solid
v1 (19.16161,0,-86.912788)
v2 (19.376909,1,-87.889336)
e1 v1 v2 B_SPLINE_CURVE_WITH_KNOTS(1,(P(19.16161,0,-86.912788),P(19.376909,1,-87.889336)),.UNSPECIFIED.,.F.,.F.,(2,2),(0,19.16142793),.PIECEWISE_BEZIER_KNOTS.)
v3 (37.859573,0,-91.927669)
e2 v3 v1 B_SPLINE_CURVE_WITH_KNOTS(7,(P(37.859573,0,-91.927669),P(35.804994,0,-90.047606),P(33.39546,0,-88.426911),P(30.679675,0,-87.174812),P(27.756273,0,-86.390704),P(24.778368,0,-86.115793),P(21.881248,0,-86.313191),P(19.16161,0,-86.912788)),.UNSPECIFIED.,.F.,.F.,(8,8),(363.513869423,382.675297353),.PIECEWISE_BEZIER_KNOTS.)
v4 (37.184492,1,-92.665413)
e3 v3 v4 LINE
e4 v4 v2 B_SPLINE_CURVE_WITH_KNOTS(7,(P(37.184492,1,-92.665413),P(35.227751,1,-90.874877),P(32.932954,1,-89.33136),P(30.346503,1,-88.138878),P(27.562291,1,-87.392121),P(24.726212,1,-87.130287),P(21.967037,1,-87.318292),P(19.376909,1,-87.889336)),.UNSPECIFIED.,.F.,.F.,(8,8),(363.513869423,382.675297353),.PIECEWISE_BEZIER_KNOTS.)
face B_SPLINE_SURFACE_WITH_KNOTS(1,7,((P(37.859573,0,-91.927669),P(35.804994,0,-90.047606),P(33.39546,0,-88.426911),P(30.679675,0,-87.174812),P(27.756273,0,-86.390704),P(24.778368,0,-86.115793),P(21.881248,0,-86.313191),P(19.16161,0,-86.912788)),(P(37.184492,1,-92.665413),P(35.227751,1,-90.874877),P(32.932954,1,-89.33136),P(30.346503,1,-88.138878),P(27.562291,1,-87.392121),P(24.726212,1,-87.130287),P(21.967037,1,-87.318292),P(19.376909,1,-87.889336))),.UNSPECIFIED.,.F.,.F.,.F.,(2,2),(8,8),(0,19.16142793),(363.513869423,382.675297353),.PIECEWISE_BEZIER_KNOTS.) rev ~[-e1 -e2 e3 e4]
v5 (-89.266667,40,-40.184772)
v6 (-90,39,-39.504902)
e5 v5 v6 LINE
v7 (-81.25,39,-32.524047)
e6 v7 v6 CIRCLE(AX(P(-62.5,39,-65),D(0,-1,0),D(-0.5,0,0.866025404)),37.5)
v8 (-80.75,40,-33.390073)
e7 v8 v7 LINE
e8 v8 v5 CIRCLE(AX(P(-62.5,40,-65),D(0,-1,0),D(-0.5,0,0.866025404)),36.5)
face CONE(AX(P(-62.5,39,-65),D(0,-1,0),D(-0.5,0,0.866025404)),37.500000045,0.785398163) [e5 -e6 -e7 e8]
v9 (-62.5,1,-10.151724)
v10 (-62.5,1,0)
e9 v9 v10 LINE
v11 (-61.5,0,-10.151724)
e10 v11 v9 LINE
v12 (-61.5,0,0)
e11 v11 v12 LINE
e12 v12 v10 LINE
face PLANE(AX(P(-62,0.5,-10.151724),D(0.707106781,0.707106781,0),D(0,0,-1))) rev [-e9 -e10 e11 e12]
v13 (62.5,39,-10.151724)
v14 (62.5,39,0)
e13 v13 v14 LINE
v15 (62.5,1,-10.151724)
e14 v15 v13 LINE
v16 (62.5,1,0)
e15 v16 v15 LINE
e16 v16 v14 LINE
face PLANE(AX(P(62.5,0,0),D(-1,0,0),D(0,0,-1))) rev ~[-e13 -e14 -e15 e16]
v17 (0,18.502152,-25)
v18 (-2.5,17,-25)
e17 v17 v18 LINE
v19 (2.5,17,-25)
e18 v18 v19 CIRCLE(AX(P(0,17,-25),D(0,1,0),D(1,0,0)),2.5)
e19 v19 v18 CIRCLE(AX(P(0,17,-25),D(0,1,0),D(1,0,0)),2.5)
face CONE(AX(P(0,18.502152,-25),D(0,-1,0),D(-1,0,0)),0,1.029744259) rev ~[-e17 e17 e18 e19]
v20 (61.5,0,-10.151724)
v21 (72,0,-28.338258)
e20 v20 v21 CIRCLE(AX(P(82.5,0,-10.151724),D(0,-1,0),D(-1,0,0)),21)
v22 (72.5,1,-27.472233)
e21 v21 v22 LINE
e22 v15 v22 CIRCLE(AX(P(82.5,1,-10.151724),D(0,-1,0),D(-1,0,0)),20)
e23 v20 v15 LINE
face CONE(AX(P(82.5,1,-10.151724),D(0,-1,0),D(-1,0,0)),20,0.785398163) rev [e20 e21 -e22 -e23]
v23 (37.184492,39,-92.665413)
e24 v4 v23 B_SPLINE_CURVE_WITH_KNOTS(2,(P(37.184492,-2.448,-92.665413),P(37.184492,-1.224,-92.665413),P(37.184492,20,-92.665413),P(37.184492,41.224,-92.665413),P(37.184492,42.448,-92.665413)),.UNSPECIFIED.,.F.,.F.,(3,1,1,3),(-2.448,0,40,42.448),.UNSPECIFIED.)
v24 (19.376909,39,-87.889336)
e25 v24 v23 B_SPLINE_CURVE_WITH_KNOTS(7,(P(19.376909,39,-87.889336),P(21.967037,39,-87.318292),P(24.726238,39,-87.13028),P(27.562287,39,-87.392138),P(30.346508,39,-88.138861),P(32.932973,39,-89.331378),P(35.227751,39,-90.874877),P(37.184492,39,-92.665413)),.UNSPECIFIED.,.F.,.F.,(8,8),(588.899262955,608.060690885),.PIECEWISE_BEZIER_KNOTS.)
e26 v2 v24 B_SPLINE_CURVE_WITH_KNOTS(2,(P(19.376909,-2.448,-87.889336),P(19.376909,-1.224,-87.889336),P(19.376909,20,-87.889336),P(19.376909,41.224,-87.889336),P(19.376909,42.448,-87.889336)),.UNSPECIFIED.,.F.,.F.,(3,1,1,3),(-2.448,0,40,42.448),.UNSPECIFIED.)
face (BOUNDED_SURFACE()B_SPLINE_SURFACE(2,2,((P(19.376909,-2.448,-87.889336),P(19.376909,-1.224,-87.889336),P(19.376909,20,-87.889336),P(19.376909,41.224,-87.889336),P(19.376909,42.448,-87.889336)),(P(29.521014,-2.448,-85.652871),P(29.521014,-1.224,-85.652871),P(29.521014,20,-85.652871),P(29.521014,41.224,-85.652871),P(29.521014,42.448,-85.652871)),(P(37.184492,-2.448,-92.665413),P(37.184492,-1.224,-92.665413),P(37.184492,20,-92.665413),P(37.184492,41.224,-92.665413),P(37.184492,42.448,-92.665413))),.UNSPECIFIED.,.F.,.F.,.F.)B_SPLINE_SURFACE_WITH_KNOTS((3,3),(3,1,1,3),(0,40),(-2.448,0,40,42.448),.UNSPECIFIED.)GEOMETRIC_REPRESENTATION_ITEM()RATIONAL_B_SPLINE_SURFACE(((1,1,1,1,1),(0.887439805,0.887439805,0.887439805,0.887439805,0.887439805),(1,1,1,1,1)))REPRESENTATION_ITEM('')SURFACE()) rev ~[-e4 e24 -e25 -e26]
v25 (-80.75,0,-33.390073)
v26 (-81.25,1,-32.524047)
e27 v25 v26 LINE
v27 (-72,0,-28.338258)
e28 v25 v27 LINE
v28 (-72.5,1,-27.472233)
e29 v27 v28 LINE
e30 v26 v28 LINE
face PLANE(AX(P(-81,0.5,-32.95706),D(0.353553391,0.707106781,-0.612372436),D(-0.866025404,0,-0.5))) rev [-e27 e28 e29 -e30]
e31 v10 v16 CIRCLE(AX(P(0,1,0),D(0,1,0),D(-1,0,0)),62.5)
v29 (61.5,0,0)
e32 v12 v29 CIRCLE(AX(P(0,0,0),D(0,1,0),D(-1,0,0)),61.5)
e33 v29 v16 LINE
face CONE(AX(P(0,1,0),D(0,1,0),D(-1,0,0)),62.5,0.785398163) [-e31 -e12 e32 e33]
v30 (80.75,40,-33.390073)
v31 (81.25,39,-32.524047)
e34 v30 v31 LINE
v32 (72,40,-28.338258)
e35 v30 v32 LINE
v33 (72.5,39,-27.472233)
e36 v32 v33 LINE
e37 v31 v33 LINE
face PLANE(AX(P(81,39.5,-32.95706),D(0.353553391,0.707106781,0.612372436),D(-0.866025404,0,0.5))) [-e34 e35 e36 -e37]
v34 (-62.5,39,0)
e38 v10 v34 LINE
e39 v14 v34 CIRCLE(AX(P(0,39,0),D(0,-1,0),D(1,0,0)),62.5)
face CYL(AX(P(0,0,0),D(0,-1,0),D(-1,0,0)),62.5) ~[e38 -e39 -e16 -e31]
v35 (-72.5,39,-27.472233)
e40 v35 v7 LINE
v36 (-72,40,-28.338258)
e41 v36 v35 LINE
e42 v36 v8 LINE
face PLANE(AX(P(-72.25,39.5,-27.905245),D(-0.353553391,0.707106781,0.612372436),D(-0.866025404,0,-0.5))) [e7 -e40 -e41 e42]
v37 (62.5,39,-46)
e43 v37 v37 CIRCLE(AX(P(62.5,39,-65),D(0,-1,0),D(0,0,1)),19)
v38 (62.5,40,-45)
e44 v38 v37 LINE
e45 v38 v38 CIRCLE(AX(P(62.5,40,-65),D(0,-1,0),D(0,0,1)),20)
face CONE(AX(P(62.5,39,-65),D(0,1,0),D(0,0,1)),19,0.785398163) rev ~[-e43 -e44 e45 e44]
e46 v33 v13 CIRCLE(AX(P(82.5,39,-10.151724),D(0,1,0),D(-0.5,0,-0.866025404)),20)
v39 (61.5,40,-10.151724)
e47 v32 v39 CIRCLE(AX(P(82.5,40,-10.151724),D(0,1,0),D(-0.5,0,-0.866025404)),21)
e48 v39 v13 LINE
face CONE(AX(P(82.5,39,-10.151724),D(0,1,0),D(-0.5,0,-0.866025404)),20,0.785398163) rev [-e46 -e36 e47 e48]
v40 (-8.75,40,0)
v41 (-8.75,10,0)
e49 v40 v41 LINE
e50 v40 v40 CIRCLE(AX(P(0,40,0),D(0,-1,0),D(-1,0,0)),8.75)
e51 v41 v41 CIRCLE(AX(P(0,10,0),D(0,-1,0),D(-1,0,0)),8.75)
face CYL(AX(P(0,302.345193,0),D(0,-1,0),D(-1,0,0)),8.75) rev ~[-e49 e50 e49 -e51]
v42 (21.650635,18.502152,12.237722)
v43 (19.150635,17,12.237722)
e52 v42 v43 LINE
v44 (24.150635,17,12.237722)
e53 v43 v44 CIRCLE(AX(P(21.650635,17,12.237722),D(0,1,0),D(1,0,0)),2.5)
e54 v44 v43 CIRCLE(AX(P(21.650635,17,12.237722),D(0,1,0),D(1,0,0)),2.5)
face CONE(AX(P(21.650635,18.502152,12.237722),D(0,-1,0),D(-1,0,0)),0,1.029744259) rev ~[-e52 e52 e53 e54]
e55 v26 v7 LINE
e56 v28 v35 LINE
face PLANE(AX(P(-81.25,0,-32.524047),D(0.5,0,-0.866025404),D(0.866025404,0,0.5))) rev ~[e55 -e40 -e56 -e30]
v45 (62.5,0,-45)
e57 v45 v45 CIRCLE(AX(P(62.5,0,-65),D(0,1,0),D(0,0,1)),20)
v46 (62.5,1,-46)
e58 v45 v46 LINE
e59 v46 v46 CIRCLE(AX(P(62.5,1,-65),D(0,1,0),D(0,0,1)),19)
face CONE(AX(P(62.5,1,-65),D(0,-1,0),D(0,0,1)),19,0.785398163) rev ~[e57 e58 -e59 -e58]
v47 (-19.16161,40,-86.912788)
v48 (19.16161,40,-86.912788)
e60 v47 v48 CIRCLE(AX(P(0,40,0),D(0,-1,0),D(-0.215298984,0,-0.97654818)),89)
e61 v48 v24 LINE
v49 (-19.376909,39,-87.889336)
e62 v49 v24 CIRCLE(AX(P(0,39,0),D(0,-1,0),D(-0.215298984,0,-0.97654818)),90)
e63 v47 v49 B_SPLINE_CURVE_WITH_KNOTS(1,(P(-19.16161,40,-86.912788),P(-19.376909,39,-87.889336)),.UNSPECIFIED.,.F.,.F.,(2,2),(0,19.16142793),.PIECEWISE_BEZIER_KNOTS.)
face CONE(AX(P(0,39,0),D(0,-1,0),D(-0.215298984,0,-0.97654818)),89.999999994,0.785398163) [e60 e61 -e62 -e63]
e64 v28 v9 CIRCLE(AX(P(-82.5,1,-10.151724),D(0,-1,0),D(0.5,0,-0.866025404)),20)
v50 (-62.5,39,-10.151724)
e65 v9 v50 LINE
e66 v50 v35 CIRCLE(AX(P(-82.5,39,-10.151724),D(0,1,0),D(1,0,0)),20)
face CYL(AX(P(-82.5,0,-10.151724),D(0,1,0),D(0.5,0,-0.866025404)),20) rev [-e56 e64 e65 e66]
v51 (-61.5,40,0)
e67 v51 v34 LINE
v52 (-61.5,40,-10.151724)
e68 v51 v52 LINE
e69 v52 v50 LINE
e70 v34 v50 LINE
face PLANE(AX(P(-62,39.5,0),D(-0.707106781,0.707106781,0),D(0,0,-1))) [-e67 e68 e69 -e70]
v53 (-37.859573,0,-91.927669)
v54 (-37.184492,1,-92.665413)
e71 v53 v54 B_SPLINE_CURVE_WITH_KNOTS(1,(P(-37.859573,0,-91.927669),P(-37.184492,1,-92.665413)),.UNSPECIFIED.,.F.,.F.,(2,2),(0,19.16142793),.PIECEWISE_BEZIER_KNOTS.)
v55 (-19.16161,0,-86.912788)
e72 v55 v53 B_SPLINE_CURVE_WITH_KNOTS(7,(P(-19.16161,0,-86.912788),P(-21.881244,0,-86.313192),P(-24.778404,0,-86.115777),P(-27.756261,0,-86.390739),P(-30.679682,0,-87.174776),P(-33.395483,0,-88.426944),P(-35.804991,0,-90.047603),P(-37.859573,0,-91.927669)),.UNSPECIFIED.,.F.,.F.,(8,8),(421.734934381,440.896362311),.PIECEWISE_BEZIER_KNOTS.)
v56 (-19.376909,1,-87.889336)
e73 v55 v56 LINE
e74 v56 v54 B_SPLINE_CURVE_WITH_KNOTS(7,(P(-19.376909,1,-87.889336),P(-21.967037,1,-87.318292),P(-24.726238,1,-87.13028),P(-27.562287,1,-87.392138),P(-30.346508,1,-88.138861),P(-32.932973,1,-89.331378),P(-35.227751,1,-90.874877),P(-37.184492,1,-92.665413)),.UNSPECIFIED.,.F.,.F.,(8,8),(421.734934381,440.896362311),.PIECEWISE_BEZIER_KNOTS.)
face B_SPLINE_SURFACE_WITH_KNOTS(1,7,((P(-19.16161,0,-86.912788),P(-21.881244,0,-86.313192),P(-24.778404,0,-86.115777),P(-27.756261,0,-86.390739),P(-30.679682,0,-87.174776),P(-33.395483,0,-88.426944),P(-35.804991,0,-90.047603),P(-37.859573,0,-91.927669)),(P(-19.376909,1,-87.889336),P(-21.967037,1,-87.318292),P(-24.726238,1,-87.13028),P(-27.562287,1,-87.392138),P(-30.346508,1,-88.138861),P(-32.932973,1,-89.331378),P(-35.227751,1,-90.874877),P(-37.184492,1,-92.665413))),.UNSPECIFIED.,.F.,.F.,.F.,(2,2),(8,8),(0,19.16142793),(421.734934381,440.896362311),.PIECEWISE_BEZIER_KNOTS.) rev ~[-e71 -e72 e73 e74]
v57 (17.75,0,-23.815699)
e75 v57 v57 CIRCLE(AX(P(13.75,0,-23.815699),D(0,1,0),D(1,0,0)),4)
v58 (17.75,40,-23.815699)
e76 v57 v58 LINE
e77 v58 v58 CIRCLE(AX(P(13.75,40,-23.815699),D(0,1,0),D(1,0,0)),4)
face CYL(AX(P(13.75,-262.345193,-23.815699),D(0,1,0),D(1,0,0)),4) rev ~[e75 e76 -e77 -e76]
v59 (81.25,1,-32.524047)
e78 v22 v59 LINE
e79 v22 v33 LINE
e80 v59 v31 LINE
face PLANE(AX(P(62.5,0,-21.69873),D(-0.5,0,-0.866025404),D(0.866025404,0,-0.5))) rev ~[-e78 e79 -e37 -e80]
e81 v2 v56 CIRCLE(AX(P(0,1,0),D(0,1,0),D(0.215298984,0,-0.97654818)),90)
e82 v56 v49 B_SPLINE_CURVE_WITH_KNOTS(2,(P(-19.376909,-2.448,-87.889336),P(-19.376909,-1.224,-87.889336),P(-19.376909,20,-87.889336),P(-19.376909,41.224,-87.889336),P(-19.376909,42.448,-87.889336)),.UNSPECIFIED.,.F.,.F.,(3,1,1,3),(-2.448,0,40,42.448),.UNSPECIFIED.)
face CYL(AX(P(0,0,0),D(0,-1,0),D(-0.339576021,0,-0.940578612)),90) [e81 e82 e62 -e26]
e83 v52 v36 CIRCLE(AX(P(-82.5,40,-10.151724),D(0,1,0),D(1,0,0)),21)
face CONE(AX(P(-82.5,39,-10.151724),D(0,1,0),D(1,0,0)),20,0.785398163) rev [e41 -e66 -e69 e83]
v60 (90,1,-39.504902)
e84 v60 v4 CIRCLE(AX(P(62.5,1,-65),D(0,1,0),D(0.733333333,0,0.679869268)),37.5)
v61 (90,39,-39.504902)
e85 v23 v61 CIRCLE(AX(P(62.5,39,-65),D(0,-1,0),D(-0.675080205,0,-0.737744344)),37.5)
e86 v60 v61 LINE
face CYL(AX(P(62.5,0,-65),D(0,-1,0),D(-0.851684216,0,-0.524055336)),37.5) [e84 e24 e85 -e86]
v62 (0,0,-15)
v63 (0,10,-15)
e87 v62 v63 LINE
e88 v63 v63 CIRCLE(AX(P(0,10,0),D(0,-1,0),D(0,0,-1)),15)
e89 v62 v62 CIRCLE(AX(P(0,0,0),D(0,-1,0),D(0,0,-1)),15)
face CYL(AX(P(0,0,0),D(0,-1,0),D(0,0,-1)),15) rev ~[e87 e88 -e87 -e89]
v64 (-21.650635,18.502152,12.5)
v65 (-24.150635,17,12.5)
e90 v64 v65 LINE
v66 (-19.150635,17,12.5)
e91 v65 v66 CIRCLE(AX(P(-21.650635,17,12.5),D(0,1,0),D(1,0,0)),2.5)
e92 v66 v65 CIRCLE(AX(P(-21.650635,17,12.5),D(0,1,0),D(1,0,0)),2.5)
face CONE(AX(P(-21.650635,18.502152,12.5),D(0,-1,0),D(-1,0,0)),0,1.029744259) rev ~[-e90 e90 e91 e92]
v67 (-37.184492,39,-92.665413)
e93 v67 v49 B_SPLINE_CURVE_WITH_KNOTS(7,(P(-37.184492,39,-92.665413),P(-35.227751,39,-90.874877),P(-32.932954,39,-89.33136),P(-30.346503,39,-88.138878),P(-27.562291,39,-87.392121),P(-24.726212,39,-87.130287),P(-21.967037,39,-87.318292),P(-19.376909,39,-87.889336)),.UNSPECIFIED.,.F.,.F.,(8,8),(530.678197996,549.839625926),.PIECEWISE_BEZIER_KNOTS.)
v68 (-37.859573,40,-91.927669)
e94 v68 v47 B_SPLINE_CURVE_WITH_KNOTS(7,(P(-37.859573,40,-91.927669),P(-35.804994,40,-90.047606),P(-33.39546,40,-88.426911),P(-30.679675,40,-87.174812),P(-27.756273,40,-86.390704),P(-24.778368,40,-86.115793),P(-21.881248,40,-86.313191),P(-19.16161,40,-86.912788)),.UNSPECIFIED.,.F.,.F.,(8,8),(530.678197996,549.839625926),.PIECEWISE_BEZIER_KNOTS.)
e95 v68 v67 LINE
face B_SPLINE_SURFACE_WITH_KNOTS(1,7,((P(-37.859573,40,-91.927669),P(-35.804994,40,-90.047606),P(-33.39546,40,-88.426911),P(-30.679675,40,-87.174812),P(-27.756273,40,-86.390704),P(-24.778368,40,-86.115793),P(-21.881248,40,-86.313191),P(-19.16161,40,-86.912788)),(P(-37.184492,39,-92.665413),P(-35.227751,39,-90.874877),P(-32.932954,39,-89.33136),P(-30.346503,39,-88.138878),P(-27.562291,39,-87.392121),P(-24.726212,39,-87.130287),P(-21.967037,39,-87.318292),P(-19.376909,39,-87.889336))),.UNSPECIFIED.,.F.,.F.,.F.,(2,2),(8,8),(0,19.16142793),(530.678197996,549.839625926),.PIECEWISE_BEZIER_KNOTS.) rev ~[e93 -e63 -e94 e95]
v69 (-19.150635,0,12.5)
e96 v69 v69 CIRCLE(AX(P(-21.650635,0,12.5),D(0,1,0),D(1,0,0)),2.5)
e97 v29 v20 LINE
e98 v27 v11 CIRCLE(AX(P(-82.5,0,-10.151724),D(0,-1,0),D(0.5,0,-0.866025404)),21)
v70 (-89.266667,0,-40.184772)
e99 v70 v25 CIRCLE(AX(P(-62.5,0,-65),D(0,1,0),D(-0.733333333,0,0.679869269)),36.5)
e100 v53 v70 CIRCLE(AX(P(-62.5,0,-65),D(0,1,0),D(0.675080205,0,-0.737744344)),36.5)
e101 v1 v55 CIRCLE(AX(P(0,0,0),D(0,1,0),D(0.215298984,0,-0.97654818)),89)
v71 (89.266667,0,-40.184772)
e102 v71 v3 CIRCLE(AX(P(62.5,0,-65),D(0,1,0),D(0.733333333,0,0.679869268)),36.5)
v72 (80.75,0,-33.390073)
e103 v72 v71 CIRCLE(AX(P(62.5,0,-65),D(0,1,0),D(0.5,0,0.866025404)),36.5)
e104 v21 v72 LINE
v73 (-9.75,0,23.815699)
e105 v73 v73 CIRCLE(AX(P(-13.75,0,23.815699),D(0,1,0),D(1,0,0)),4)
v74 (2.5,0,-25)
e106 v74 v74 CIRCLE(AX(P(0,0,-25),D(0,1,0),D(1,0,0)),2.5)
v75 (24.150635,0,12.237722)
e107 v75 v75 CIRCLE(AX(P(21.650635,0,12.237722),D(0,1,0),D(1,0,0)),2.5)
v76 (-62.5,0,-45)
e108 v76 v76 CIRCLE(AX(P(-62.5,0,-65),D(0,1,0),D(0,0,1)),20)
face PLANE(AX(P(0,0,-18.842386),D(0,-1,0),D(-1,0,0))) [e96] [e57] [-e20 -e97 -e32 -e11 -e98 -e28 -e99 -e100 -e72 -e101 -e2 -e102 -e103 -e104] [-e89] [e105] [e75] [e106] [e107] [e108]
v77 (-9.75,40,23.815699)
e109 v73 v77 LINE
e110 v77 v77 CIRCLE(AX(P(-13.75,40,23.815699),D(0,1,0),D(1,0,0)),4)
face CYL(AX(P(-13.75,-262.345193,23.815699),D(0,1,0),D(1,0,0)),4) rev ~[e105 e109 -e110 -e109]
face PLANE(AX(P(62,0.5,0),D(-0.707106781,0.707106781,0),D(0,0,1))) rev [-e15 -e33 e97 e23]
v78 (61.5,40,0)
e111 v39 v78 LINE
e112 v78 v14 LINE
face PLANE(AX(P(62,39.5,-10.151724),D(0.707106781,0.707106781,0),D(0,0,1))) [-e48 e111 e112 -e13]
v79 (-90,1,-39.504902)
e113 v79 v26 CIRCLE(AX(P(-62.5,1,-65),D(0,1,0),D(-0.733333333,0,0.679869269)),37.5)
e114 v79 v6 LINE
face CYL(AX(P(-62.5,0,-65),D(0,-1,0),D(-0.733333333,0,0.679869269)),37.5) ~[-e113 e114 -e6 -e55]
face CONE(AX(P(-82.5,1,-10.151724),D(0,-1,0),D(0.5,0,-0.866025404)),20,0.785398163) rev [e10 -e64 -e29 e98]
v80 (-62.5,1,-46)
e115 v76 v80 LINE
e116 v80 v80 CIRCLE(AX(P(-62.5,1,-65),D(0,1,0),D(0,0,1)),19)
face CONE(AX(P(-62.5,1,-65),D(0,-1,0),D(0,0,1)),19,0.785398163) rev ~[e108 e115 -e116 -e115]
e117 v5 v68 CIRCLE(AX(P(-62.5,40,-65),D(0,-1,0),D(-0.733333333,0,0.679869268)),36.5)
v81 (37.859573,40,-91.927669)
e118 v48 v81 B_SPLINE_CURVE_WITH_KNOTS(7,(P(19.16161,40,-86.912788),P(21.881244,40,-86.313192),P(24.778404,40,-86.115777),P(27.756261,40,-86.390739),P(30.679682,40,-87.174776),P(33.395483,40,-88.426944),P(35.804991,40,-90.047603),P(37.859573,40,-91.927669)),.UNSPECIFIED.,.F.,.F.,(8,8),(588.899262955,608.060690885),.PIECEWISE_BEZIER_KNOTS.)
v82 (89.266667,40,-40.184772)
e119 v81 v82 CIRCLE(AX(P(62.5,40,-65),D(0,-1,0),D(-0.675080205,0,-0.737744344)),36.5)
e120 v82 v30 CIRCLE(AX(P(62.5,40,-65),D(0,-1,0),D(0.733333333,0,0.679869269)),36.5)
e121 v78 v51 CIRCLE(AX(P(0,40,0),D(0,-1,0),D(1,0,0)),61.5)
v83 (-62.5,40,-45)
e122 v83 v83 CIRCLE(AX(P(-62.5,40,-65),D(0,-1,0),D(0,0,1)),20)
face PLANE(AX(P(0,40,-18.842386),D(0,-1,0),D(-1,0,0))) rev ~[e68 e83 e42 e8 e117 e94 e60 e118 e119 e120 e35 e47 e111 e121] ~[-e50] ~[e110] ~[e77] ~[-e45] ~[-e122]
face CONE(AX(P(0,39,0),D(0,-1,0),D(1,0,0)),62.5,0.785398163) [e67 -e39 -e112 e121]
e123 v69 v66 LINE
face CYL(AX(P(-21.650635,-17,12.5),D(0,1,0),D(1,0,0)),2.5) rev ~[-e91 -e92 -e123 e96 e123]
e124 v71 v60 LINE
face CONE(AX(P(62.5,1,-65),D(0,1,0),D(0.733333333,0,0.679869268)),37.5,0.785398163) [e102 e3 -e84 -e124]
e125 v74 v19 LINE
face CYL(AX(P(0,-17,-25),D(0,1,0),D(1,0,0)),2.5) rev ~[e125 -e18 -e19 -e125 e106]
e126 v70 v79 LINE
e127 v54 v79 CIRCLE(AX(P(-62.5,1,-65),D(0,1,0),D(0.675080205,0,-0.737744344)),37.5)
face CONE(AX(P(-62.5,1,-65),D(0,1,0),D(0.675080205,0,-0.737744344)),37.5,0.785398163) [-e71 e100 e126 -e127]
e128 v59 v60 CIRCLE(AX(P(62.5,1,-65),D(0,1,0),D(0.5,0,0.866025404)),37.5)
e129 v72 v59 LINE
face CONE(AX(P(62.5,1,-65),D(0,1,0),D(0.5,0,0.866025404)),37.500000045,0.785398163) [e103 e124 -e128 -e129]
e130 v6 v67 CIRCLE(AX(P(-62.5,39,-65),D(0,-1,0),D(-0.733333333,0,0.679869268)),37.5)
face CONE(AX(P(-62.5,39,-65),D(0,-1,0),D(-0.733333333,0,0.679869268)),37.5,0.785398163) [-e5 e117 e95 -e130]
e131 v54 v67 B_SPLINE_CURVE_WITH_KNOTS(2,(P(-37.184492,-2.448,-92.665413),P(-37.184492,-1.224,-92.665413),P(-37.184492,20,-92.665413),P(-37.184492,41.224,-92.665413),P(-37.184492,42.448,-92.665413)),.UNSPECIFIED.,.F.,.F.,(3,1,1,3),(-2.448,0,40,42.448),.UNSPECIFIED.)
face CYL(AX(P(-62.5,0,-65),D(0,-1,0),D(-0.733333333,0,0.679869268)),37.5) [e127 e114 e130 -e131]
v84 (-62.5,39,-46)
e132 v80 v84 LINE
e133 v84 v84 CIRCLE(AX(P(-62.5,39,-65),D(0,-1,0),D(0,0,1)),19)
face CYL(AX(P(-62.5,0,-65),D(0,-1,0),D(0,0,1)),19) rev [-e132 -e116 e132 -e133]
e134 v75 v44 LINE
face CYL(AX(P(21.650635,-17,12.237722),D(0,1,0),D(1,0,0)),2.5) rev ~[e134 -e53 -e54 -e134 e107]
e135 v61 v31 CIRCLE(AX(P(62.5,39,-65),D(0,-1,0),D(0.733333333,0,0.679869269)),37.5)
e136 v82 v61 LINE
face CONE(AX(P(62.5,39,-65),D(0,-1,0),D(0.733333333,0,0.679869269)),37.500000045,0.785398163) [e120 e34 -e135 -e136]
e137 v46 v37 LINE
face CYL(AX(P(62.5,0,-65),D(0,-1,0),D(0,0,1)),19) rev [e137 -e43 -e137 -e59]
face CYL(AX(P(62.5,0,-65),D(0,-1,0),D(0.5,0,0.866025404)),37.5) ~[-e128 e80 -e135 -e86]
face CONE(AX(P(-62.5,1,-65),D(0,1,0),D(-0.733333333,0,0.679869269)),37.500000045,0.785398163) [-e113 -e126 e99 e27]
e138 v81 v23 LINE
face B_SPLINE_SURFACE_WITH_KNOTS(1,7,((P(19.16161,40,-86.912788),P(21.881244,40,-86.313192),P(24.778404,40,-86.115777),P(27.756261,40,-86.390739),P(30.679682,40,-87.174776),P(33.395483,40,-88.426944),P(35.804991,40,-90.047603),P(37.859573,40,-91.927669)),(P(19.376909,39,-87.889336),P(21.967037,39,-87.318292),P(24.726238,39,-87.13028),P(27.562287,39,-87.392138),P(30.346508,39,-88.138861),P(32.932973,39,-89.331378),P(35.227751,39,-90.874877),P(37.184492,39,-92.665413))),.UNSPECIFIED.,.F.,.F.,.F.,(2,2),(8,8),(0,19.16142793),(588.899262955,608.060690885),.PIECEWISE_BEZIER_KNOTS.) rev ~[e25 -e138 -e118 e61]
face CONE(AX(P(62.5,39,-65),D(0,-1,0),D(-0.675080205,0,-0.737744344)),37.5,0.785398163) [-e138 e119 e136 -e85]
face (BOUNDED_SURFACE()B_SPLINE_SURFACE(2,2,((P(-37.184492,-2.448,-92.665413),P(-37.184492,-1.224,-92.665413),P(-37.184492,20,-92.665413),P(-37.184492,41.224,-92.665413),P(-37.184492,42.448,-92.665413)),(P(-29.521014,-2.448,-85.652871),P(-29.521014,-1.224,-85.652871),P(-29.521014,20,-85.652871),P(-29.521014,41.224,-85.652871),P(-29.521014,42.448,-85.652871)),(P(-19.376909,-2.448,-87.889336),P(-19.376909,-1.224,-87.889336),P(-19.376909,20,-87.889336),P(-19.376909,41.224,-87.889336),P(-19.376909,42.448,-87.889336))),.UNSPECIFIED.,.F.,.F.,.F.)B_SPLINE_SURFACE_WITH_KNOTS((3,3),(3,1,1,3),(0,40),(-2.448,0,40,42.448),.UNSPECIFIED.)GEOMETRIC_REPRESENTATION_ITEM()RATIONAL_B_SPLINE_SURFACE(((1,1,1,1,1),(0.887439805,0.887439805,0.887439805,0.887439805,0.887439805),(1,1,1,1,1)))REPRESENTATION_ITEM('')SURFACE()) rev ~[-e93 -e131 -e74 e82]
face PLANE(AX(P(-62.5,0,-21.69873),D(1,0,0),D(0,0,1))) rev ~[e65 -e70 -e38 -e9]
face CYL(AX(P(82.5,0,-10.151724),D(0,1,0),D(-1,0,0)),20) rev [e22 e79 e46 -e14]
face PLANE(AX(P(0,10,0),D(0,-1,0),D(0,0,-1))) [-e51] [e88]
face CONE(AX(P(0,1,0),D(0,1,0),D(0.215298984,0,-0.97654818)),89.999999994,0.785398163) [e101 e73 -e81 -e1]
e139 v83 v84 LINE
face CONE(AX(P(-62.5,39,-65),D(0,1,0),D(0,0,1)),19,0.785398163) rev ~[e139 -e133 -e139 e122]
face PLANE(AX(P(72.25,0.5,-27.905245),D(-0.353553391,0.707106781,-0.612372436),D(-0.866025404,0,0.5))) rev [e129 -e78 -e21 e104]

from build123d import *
from build123d.topology import SkipClean

# Parameters (mm, degrees)
BOSS_EXTRUDE1_DEPTH   = 40
CUT_EXTRUDE4_DEPTH    = 149.681707012
FILLET1_R             = 20
CUT_EXTRUDE2_REACH    = 150.682
SKETCH3_R             = 19
M20_TAPPED_HOLE1_D    = 17.5
SKETCH8_R             = 15
CUT_EXTRUDE3_DEPTH    = 10
M6_TAPPED_HOLE1_D     = 5
M6_TAPPED_HOLE1_DEPTH = 17
M6_TAPPED_HOLE1_TIP   = 1.502151548
F_8_0MM_DOWEL_HOLE1_D = 8
CHAMFER1_SIZE         = 1


with BuildPart() as part:
    # Sketch1 → Boss-Extrude1 (new body)
    with BuildSketch(Plane(origin=(0, 0, 0), x_dir=(1, 0, 0), z_dir=(0, 1, 0))):
        with BuildLine():
            Line((-90, 0), (-90, 39.504902432))
            ThreePointArc((-90, 39.504902432), (-85.182396525, 94.862332258), (-30.561841884, 84.652075111))
            ThreePointArc((-30.561841884, 84.652075111), (0, 90), (30.561841884, 84.652075111))
            ThreePointArc((30.561841884, 84.652075111), (85.182396525, 94.862332258), (90, 39.504902432))
            Line((90, 39.504902432), (90, 0))
            ThreePointArc((90, 0), (0, -90), (-90, 0))
        make_face()
    extrude(amount=BOSS_EXTRUDE1_DEPTH)

    # Sketch2 → Cut-Extrude4 (cut, through all)
    with SkipClean():  # the faces are left unmerged after this step: merging them gives an invalid solid
        with BuildSketch(Plane(origin=(0, 0, 0), x_dir=(1, 0, 0), z_dir=(0, 1, 0))):
            with BuildLine():
                Line((-81.25, 32.524047358), (-62.5, 21.698729811))
                Line((-62.5, 21.698729811), (-62.5, 0))
                ThreePointArc((-62.5, 0), (0, -62.5), (62.5, 0))
                Line((62.5, 0), (62.5, 21.698729811))
                Line((62.5, 21.698729811), (81.25, 32.524047358))
                ThreePointArc((81.25, 32.524047358), (85.886934587, 35.68615872), (90, 39.504902432))
                Line((90, 39.504902432), (90, 0))
                ThreePointArc((90, 0), (0, -90), (-90, 0))
                Line((-90, 0), (-90, 39.504902432))
                ThreePointArc((-90, 39.504902432), (-85.886934587, 35.68615872), (-81.25, 32.524047358))
            make_face()
        extrude(amount=CUT_EXTRUDE4_DEPTH, mode=Mode.SUBTRACT)

    # Fillet1
    fillet1_edges = [part.edges().sort_by_distance(p)[0] for p in [
        (30.561841884, 20, -84.652075111),
        (-30.561841884, 20, -84.652075111),
        (-62.5, 20, -21.698729811),
        (62.5, 20, -21.698729811),
    ]]
    fillet(fillet1_edges, radius=FILLET1_R)

    # Sketch3 → Cut-Extrude2 (cut, up to next)
    with BuildSketch(Plane(origin=(0, 0, 0), x_dir=(1, 0, 0), z_dir=(0, 1, 0)), mode=Mode.PRIVATE) as cut_extrude2_sk1:
        with Locations(Location((-62.5, 65, 0), (0, 0, 270))):
            Circle(SKETCH3_R)
    cut_extrude2_tool1 = extrude(cut_extrude2_sk1.sketch, amount=CUT_EXTRUDE2_REACH, mode=Mode.PRIVATE) & part.part
    # Sketch3 → Cut-Extrude2 (cut, up to next)
    with BuildSketch(Plane(origin=(0, 0, 0), x_dir=(1, 0, 0), z_dir=(0, 1, 0)), mode=Mode.PRIVATE) as cut_extrude2_sk2:
        with Locations(Location((62.5, 65, 0), (0, 0, 270))):
            Circle(SKETCH3_R)
    cut_extrude2_tool2 = extrude(cut_extrude2_sk2.sketch, amount=CUT_EXTRUDE2_REACH, mode=Mode.PRIVATE) & part.part
    add(cut_extrude2_tool1.solids().sort_by_distance((-62.5, 0, -65))[0], mode=Mode.SUBTRACT)
    add(cut_extrude2_tool2.solids().sort_by_distance((62.5, 0, -65))[0], mode=Mode.SUBTRACT)

    # M20 Tapped Hole1 (through all)
    with Locations(Plane(origin=(0, 40, 0), x_dir=(1, 0, 0), z_dir=(0, 1, 0))):
        with Locations((0, 0)):
            Hole(M20_TAPPED_HOLE1_D / 2)

    # Sketch8 → Cut-Extrude3 (cut)
    with SkipClean():  # the faces are left unmerged after this step: merging them gives an invalid solid
        with BuildSketch(Plane.XZ):
            with Locations(Location((0, 0, 0), (0, 0, 270))):
                Circle(SKETCH8_R)
        extrude(amount=-CUT_EXTRUDE3_DEPTH, mode=Mode.SUBTRACT)

    # M6 Tapped Hole1
    with Locations(Plane(origin=(0, 0, 0), x_dir=(-1, 0, 0), z_dir=(0, -1, 0))):
        with Locations((-21.650635095, -12.237722392), (21.650635095, -12.5), (0, 25)):
            Hole(M6_TAPPED_HOLE1_D / 2, depth=M6_TAPPED_HOLE1_DEPTH)
            with Locations((0, 0, -(M6_TAPPED_HOLE1_DEPTH + M6_TAPPED_HOLE1_TIP / 2))):  # 118° drill point
                Cone(0, M6_TAPPED_HOLE1_D / 2, M6_TAPPED_HOLE1_TIP, mode=Mode.SUBTRACT)

    # Ø8.0mm Dowel Hole1 (through all)
    with Locations(Plane(origin=(0, 0, 0), x_dir=(-1, 0, 0), z_dir=(0, -1, 0))):
        with Locations((13.75, -23.815698604), (-13.75, 23.815698604)):
            Hole(F_8_0MM_DOWEL_HOLE1_D / 2)

    # Chamfer1
    chamfer1_edges = [part.edges().sort_by_distance(p)[0] for p in [
        (89.102687271, 40, -91.430040295),
        (0, 0, 62.5),
        (-62.5, 0, -5.075862213),
        (76.875, 0, -29.99813993),
        (0, 40, 62.5),
        (-62.5, 40, -5.075862213),
        (76.875, 40, -29.99813993),
        (62.5, 0, -5.075862213),
        (62.5, 40, -5.075862213),
        (-76.875, 0, -29.99813993),
        (-76.875, 40, -29.99813993),
        (0, 0, -90),
        (0, 40, -90),
        (-89.102687271, 0, -91.430040295),
        (-89.102687271, 40, -91.430040295),
        (65.179491924, 0, -20.151724427),
        (65.179491924, 40, -20.151724427),
        (-65.179491924, 0, -20.151724427),
        (-65.179491924, 40, -20.151724427),
        (28.863873105, 0, -88.103017476),
        (28.863873105, 40, -88.103017476),
        (-28.863873105, 0, -88.103017476),
        (-28.863873105, 40, -88.103017476),
        (89.102687271, 0, -91.430040295),
        (-62.5, 0, -84),
        (-62.5, 40, -84),
        (62.5, 0, -84),
        (62.5, 40, -84),
    ]]
    chamfer(chamfer1_edges, length=CHAMFER1_SIZE)


solid = part.part
